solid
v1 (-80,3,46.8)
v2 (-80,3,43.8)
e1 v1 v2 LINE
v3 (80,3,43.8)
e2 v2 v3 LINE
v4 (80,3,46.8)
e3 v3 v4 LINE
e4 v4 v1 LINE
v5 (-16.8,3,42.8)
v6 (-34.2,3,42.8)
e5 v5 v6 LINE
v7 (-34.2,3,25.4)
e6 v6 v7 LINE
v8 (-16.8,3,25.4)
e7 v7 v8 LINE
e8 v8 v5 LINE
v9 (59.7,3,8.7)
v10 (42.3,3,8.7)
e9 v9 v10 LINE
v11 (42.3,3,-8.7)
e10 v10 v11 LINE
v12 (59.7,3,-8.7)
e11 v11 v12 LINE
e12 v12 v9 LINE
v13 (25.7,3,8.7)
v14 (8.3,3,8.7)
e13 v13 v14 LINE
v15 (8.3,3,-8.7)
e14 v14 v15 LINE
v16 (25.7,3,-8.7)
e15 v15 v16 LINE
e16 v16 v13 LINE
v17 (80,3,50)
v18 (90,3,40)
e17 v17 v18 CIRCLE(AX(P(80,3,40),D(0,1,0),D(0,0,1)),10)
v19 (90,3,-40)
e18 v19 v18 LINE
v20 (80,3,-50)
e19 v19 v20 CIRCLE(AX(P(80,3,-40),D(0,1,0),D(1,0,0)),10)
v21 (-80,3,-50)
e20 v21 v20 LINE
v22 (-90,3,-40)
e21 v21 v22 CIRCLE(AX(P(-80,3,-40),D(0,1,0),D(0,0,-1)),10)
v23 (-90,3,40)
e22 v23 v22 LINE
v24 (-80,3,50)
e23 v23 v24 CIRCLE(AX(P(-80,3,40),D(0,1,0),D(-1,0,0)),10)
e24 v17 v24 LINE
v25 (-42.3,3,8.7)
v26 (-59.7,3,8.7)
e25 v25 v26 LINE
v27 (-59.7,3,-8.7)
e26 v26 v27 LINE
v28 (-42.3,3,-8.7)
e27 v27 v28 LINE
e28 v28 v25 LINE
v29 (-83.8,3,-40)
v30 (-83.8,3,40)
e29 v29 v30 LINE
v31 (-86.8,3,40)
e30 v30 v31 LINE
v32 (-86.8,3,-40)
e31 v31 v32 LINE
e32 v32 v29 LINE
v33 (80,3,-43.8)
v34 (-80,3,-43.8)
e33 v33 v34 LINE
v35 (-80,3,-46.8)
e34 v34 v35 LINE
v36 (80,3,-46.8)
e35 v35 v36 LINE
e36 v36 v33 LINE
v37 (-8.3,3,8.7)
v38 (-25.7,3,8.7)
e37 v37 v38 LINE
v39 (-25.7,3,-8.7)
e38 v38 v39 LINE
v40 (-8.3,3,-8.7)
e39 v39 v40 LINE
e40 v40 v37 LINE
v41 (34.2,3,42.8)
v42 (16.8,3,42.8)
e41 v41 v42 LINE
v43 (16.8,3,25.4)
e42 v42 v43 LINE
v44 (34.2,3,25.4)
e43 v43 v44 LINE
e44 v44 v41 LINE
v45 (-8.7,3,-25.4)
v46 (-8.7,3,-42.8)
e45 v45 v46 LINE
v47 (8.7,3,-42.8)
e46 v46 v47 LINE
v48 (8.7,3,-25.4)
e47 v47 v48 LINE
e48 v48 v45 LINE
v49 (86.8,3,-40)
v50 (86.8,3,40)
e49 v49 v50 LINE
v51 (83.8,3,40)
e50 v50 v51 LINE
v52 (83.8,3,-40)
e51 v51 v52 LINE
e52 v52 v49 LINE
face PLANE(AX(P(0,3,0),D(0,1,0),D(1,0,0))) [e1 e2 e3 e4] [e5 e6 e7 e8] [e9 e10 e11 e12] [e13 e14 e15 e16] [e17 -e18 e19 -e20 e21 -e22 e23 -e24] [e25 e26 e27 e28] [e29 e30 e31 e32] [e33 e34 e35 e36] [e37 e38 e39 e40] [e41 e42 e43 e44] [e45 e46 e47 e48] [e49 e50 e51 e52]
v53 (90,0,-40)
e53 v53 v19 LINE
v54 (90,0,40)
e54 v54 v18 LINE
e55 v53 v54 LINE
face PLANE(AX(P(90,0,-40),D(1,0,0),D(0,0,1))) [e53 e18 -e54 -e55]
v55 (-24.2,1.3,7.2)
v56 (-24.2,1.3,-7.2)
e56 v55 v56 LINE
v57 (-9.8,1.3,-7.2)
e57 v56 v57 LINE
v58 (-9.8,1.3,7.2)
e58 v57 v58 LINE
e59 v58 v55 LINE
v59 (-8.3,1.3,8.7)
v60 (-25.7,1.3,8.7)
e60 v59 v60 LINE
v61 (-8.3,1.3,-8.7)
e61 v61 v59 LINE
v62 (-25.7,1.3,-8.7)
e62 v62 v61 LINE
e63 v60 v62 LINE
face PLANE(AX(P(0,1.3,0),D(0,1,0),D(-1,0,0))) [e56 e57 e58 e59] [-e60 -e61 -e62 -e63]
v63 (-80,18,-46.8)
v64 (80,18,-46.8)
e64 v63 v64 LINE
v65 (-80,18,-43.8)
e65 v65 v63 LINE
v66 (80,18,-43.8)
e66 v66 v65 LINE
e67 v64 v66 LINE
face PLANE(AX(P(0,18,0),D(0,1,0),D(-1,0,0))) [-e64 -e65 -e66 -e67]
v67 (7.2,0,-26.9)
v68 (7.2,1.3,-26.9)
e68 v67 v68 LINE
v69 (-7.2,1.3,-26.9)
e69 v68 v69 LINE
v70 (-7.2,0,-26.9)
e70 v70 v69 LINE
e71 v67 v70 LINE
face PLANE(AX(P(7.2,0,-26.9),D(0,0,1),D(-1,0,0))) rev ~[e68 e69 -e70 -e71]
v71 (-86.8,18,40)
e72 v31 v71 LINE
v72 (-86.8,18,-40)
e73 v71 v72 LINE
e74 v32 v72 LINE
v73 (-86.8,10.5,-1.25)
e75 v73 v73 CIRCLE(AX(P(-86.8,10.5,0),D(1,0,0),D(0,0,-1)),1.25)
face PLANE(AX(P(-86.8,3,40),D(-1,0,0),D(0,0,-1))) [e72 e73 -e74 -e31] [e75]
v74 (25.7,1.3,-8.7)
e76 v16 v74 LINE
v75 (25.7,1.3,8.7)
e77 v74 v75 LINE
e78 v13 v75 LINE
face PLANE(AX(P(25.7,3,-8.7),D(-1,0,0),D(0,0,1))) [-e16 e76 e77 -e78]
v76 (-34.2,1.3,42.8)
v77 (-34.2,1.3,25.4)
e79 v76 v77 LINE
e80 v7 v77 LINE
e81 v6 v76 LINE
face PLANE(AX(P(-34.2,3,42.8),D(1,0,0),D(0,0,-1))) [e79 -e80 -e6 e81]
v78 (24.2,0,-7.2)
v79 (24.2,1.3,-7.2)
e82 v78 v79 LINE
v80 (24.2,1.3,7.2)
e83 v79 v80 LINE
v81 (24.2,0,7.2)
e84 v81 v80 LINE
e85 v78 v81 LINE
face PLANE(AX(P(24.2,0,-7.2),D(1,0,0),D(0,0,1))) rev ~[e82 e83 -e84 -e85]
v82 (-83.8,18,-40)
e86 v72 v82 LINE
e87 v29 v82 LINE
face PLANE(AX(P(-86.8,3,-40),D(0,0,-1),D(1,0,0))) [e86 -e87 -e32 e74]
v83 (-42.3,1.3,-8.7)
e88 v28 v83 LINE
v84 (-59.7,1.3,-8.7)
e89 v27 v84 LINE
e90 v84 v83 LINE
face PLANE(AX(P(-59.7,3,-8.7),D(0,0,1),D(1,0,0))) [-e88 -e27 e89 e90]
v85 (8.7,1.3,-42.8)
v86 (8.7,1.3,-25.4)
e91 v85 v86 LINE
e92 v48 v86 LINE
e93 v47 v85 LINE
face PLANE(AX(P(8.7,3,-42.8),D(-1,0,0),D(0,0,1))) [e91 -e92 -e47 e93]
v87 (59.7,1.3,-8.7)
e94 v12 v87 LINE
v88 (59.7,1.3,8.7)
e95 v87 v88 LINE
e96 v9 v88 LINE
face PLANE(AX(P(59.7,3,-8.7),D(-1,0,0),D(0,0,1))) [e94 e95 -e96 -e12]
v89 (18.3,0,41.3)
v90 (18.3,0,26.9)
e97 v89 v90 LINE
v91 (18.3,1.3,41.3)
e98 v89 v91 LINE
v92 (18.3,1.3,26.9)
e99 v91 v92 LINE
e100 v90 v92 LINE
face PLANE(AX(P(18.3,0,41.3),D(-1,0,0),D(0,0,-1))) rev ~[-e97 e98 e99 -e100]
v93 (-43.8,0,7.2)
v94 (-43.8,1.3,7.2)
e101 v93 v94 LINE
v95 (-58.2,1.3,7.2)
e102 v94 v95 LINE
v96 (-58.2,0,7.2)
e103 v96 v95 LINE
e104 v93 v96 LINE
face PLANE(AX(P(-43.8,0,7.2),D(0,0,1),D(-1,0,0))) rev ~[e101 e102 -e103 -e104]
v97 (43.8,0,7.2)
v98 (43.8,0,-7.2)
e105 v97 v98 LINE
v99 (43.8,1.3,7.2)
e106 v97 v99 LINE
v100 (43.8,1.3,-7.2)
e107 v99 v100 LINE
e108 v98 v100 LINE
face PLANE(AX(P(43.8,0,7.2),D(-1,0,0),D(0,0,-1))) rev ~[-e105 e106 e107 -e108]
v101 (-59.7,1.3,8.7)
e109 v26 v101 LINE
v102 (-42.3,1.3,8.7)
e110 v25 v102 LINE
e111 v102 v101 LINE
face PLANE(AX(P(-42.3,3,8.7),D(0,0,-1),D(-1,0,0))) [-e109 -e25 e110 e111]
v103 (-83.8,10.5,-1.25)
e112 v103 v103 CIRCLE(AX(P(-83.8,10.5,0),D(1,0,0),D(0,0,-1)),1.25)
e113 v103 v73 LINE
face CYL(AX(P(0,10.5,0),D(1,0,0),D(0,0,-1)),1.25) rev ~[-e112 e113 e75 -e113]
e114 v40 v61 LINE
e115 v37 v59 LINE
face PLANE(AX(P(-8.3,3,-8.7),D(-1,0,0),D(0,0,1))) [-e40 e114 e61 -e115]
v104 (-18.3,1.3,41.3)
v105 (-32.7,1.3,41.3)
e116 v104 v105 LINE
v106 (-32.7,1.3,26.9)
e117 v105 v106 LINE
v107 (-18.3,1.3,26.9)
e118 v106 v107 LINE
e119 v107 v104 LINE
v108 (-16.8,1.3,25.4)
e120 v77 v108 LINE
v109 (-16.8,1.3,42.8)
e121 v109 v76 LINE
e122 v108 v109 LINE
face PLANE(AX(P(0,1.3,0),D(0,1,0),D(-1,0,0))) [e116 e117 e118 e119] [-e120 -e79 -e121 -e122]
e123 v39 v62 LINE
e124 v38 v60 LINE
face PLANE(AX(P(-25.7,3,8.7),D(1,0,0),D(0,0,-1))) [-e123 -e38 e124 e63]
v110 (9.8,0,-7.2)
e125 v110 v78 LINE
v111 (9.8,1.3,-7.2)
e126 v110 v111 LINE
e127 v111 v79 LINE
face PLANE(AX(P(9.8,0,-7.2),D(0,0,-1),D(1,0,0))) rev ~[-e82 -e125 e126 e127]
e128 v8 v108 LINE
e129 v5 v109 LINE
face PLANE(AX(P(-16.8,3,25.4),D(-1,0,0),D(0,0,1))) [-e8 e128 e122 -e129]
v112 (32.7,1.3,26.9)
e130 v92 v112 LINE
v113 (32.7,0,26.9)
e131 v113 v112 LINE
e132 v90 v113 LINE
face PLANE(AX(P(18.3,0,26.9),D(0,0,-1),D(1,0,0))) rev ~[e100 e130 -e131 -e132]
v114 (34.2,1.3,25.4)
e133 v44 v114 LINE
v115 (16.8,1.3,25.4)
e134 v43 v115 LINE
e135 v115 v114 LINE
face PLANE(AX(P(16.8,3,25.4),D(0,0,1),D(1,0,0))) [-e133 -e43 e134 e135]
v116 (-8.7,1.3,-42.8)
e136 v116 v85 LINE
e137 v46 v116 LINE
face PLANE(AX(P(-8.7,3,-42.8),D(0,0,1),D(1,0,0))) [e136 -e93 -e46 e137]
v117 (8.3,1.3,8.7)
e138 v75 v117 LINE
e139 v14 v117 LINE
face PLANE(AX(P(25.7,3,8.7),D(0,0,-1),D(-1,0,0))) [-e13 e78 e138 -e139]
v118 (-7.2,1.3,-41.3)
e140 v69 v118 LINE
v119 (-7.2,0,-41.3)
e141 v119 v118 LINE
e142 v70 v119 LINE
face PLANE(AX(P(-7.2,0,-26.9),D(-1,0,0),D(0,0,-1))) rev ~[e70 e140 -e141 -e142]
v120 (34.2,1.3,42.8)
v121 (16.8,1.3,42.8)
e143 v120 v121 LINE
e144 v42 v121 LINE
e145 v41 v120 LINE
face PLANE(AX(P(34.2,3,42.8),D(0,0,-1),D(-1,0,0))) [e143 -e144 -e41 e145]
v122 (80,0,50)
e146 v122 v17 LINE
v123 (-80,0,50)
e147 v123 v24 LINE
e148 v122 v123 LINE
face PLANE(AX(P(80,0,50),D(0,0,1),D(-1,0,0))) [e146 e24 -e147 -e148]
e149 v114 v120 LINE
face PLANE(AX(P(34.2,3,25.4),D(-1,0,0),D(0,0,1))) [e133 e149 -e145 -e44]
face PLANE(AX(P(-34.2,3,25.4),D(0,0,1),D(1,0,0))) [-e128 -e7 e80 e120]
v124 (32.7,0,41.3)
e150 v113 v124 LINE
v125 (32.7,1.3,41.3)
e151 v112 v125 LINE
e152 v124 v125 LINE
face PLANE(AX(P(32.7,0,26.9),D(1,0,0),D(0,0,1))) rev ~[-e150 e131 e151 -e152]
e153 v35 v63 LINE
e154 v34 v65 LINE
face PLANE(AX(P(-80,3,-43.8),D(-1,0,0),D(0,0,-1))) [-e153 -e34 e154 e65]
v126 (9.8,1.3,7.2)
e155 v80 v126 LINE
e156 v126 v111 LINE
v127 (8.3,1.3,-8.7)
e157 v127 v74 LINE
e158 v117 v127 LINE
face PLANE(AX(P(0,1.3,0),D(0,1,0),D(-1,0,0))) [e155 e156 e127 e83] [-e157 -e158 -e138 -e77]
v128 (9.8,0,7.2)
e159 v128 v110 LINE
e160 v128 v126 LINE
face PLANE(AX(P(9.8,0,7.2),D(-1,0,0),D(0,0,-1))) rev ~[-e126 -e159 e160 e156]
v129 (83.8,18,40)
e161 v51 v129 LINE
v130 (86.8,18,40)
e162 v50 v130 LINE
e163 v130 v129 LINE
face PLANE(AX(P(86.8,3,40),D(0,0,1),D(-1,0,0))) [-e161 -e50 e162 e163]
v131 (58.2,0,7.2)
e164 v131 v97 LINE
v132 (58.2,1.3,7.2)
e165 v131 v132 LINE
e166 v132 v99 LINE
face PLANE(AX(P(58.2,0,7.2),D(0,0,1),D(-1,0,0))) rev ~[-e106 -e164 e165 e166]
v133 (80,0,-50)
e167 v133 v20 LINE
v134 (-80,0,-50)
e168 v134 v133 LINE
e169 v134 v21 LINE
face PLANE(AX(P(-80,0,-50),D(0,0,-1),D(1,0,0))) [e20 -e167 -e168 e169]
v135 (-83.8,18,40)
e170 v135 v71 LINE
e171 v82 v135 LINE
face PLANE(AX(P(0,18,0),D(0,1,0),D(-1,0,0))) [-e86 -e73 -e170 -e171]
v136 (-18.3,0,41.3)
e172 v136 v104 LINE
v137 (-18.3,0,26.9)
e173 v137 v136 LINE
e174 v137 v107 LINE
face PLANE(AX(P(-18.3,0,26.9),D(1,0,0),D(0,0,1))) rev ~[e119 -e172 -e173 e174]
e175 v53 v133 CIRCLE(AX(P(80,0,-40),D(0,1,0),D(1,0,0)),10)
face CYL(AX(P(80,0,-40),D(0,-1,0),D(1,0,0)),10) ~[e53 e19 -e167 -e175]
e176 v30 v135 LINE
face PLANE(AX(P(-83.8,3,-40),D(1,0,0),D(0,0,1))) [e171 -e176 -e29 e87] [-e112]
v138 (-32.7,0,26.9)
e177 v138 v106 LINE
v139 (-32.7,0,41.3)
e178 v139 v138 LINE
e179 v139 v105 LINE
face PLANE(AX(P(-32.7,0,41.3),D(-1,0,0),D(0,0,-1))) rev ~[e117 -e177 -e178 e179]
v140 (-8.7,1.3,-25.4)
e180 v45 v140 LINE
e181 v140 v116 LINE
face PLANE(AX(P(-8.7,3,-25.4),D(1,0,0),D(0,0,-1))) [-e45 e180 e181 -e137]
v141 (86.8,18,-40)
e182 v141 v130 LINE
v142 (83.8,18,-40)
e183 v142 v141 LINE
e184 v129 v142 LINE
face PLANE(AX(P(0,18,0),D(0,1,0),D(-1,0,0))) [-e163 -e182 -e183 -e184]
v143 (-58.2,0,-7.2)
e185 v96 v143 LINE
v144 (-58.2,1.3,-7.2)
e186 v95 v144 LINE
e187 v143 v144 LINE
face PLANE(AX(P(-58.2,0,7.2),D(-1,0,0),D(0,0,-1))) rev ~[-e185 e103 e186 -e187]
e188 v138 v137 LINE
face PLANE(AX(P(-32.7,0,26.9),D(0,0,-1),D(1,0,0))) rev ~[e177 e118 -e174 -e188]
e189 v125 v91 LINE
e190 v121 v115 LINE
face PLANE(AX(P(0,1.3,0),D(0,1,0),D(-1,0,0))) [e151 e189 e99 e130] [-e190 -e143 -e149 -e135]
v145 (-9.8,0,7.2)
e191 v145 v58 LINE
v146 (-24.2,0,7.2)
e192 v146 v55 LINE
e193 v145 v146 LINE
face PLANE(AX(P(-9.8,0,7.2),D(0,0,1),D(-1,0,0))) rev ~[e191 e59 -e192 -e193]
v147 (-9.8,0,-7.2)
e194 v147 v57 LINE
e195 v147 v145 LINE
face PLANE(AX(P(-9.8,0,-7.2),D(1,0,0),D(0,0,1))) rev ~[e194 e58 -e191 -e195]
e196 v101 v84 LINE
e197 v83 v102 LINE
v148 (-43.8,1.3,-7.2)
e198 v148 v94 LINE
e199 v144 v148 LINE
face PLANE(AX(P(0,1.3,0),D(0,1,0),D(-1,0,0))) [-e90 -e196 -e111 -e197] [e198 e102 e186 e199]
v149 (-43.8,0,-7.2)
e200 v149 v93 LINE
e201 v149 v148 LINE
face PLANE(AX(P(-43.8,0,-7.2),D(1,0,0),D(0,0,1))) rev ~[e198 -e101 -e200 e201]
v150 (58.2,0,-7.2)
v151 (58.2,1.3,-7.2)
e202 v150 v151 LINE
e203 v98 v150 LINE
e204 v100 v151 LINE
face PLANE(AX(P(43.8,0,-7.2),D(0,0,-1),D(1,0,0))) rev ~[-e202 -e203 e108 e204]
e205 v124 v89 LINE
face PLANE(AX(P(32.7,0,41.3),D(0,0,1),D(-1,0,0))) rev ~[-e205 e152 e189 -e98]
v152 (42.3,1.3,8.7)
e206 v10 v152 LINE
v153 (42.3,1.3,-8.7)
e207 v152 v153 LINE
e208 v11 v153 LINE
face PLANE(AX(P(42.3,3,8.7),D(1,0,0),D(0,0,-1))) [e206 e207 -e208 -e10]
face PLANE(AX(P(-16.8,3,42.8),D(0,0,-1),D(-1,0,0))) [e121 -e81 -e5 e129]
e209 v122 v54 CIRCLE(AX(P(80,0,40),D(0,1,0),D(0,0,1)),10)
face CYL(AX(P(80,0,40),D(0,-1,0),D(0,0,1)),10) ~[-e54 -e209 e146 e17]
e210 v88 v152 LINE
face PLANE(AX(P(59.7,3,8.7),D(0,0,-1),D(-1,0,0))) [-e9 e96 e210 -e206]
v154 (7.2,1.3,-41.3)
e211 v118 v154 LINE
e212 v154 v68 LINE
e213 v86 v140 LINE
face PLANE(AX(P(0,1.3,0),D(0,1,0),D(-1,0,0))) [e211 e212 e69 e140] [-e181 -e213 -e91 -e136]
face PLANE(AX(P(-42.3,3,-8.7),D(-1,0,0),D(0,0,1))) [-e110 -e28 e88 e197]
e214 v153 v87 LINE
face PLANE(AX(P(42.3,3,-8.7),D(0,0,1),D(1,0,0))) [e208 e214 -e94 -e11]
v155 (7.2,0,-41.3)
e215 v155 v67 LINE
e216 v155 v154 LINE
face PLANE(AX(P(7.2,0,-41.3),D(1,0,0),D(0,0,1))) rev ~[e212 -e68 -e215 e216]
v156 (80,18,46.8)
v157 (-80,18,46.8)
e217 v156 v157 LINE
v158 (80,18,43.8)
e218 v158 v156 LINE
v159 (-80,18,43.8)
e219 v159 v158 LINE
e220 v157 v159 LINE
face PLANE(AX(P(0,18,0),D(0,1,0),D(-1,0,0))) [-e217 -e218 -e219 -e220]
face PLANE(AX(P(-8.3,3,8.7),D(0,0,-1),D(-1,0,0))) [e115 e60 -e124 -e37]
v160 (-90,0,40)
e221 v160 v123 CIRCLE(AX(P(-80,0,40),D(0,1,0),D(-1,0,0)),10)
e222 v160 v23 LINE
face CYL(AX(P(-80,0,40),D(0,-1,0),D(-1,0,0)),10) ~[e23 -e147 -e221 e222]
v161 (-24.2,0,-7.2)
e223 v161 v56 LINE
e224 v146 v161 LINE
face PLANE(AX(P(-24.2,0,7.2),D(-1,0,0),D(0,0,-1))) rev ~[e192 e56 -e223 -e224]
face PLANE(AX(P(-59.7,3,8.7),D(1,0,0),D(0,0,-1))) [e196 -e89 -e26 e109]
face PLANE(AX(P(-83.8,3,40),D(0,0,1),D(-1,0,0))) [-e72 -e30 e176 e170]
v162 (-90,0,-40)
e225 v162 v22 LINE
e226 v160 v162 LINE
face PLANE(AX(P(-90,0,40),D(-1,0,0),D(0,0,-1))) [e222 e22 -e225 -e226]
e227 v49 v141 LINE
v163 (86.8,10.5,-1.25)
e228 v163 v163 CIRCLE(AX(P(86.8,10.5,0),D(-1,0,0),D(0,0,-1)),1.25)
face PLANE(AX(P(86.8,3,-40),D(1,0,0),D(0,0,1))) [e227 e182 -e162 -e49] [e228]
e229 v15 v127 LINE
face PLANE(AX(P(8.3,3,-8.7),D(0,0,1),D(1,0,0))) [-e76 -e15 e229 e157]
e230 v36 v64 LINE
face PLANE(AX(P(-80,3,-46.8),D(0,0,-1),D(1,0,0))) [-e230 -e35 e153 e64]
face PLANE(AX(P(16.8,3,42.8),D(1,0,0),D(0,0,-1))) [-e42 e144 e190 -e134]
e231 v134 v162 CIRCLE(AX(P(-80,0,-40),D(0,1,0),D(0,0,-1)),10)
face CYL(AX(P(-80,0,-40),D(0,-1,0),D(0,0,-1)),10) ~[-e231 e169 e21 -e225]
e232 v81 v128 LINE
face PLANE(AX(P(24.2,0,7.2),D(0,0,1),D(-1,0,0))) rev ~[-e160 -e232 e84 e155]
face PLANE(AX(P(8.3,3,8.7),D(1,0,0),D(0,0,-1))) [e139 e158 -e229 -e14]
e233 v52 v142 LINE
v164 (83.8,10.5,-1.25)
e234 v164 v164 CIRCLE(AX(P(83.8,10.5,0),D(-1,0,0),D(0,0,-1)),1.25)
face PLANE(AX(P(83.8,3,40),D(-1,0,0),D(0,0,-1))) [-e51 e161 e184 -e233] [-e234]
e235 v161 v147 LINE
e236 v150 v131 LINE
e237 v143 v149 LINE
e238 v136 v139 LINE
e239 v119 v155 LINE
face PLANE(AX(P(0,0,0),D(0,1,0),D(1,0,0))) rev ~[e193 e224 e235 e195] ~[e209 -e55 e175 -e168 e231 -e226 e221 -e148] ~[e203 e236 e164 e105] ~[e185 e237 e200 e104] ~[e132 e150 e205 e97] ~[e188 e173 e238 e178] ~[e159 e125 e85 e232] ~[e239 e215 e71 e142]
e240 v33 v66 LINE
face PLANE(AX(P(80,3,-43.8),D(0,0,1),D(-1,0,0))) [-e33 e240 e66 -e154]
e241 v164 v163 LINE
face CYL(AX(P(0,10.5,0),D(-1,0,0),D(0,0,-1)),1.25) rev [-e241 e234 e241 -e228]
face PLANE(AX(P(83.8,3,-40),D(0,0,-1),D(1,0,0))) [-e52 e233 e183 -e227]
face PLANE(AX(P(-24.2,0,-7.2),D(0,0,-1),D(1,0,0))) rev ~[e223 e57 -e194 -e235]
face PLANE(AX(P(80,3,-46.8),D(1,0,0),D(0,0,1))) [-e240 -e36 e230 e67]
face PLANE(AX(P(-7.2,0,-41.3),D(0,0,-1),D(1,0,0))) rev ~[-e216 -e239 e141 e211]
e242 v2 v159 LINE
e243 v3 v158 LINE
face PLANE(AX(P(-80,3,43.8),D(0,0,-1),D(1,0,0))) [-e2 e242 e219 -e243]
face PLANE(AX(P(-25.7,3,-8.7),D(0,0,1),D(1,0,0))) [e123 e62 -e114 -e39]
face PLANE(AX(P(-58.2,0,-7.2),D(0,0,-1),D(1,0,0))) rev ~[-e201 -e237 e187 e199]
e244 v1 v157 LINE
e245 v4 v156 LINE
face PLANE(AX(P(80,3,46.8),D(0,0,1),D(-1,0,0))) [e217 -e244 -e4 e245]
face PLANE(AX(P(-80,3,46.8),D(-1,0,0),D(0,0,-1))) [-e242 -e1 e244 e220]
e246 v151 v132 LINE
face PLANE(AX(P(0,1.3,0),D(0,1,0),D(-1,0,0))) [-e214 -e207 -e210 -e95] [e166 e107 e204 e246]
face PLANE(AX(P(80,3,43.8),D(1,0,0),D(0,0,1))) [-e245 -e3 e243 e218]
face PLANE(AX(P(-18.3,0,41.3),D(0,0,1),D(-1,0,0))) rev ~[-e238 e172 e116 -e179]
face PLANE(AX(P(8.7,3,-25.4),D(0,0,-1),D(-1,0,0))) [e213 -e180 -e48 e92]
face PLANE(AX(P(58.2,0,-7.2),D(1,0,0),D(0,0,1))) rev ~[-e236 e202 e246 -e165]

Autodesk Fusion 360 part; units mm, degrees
sketch "Top" plane through (0, 0, 0) normal (0, 1, 0) x (1, 0, 0)
  line L0 (-80, 50) -> (80, 50)
  line L1 (90, 40) -> (90, -40)
  line L2 (80, -50) -> (-80, -50)
  line L3 (-90, -40) -> (-90, 40)
  line L4 (-90, 50) -> (90, -50) construction
  line L5 (90, 50) -> (-90, -50) construction
  arc A0 (-80, 50) -> (-90, 40) centre (-80, 40) ccw
  arc A1 (90, 40) -> (80, 50) centre (80, 40) ccw
  arc A2 (80, -50) -> (90, -40) centre (80, -40) ccw
  arc A3 (-90, -40) -> (-80, -50) centre (-80, -40) ccw
  dimension "d310" = 180
  dimension "d311" = 100
  dimension "d312" = 10
extrude "Extrude37" add sketch "Top" along normal blind 3
sketch "Tabs" plane through (0, 3, 0) normal (0, 1, 0) x (-1, 0, 0)
  arc A0 (80, -50) -> (90, -40) centre (80, -40) ccw
  line L0 (90, -40) -> (90, 40)
  arc A1 (90, 40) -> (80, 50) centre (80, 40) ccw
  line L1 (80, 50) -> (-80, 50)
  arc A2 (-80, 50) -> (-90, 40) centre (-80, 40) ccw
  line L2 (-90, 40) -> (-90, -40)
  arc A3 (-90, -40) -> (-80, -50) centre (-80, -40) ccw
  line L3 (-80, -50) -> (80, -50)
  line L4 (86.8, -40) -> (83.8, -40)
  line L5 (83.8, -40) -> (83.8, 40)
  line L6 (83.8, 40) -> (86.8, 40)
  line L7 (86.8, 40) -> (86.8, -40)
  line L8 (86.8, -40) -> (83.8, 40) construction
  line L9 (83.8, -40) -> (86.8, 40) construction
  line L10 (80, -46.8) -> (-80, -46.8)
  line L11 (-80, -46.8) -> (-80, -43.8)
  line L12 (-80, -43.8) -> (80, -43.8)
  line L13 (80, -43.8) -> (80, -46.8)
  line L14 (80, -46.8) -> (-80, -43.8) construction
  line L15 (-80, -46.8) -> (80, -43.8) construction
  line L16 (80, 43.8) -> (-80, 43.8)
  line L17 (-80, 43.8) -> (-80, 46.8)
  line L18 (-80, 46.8) -> (80, 46.8)
  line L19 (80, 46.8) -> (80, 43.8)
  line L20 (80, 43.8) -> (-80, 46.8) construction
  line L21 (-80, 43.8) -> (80, 46.8) construction
  line L22 (-83.8, -40) -> (-86.8, -40)
  line L23 (-86.8, -40) -> (-86.8, 40)
  line L24 (-86.8, 40) -> (-83.8, 40)
  line L25 (-83.8, 40) -> (-83.8, -40)
  line L26 (-83.8, -40) -> (-86.8, 40) construction
  line L27 (-86.8, -40) -> (-83.8, 40) construction
  point P0 (85.3, 0)
  point P1 (0, -45.3)
  point P2 (0, 45.3)
  point P3 (-85.3, 0)
  dimension "d315" = 3
  dimension "d316" = 10
  dimension "d317" = 10
  dimension "d318" = 3.2
  dimension "d319" = 3
  dimension "d320" = 10
  dimension "d321" = 10
  dimension "d322" = 3.2
  dimension "d324" = 3
  dimension "d325" = 10
  dimension "d326" = 10
  dimension "d327" = 3
  dimension "d329" = 10
  dimension "d330" = 10
  dimension "d333" = 3.2
  dimension "d334" = 3.2
extrude "Extrude38" add sketch "Tabs" along normal blind 15 contours L4 L5 L6 L7 | L10 L11 L12 L13 | L16 L17 L18 L19 | L22 L23 L24 L25
sketch "Switches" plane through (0, 3, 0) normal (0, 1, 0) x (-1, 0, 0)
  line L0 (86.8, 40) -> (86.8, -40)
  line L1 (86.8, -40) -> (83.8, -40)
  line L2 (83.8, -40) -> (83.8, 40)
  line L3 (83.8, 40) -> (86.8, 40)
  line L4 (80, -43.8) -> (80, -46.8)
  line L5 (80, -46.8) -> (-80, -46.8)
  line L6 (-80, -46.8) -> (-80, -43.8)
  line L7 (-80, -43.8) -> (80, -43.8)
  line L8 (80, 46.8) -> (80, 43.8)
  line L9 (80, 43.8) -> (-80, 43.8)
  line L10 (-80, 43.8) -> (-80, 46.8)
  line L11 (-80, 46.8) -> (80, 46.8)
  line L12 (-83.8, 40) -> (-83.8, -40)
  line L13 (-83.8, -40) -> (-86.8, -40)
  line L14 (-86.8, -40) -> (-86.8, 40)
  line L15 (-86.8, 40) -> (-83.8, 40)
  arc A0 (80, -50) -> (90, -40) centre (80, -40) ccw
  line L16 (90, -40) -> (90, 40)
  arc A1 (90, 40) -> (80, 50) centre (80, 40) ccw
  line L17 (80, 50) -> (-80, 50)
  arc A2 (-80, 50) -> (-90, 40) centre (-80, 40) ccw
  line L18 (-90, 40) -> (-90, -40)
  arc A3 (-90, -40) -> (-80, -50) centre (-80, -40) ccw
  line L19 (-80, -50) -> (80, -50)
  line L20 (-59.7, 8.7) -> (-42.3, 8.7)
  line L21 (-42.3, 8.7) -> (-42.3, -8.7)
  line L22 (-58.2, -7.2) -> (-58.2, 7.2)
  line L23 (-42.3, -8.7) -> (-59.7, -8.7)
  line L24 (-43.8, 7.2) -> (-43.8, -7.2)
  line L25 (-58.2, 7.2) -> (-43.8, 7.2)
  line L26 (-43.8, -7.2) -> (-58.2, 7.2) construction
  line L27 (-59.7, -8.7) -> (-59.7, 8.7)
  line L28 (-59.7, -8.7) -> (-42.3, 8.7) construction
  line L29 (-58.2, -7.2) -> (-43.8, 7.2) construction
  line L30 (-42.3, -8.7) -> (-59.7, 8.7) construction
  line L31 (-43.8, -7.2) -> (-58.2, -7.2)
  line L32 (24.2, 7.2) -> (24.2, -7.2)
  line L33 (8.3, -8.7) -> (8.3, 8.7)
  line L34 (25.7, -8.7) -> (8.3, 8.7) construction
  line L35 (9.8, 7.2) -> (24.2, 7.2)
  line L36 (24.2, -7.2) -> (9.8, 7.2) construction
  line L37 (8.3, -8.7) -> (25.7, 8.7) construction
  line L38 (9.8, -7.2) -> (24.2, 7.2) construction
  line L39 (24.2, -7.2) -> (9.8, -7.2)
  line L40 (25.7, 8.7) -> (25.7, -8.7)
  line L41 (9.8, -7.2) -> (9.8, 7.2)
  line L42 (25.7, -8.7) -> (8.3, -8.7)
  line L43 (8.3, 8.7) -> (25.7, 8.7)
  line L44 (-18.3, 26.9) -> (-32.7, 41.3) construction
  line L45 (-32.7, 41.3) -> (-18.3, 41.3)
  line L46 (-16.8, 25.4) -> (-34.2, 25.4)
  line L47 (-34.2, 42.8) -> (-16.8, 42.8)
  line L48 (-32.7, 26.9) -> (-32.7, 41.3)
  line L49 (-16.8, 42.8) -> (-16.8, 25.4)
  line L50 (-34.2, 25.4) -> (-34.2, 42.8)
  line L51 (-16.8, 25.4) -> (-34.2, 42.8) construction
  line L52 (-18.3, 26.9) -> (-32.7, 26.9)
  line L53 (-32.7, 26.9) -> (-18.3, 41.3) construction
  line L54 (-34.2, 25.4) -> (-16.8, 42.8) construction
  line L55 (-18.3, 41.3) -> (-18.3, 26.9)
  line L56 (16.8, 25.4) -> (34.2, 42.8) construction
  line L57 (18.3, 41.3) -> (32.7, 41.3)
  line L58 (34.2, 42.8) -> (34.2, 25.4)
  line L59 (18.3, 26.9) -> (32.7, 41.3) construction
  line L60 (32.7, 26.9) -> (18.3, 26.9)
  line L61 (16.8, 25.4) -> (16.8, 42.8)
  line L62 (32.7, 41.3) -> (32.7, 26.9)
  line L63 (16.8, 42.8) -> (34.2, 42.8)
  line L64 (34.2, 25.4) -> (16.8, 42.8) construction
  line L65 (34.2, 25.4) -> (16.8, 25.4)
  line L66 (18.3, 26.9) -> (18.3, 41.3)
  line L67 (32.7, 26.9) -> (18.3, 41.3) construction
  line L68 (-8.7, -42.8) -> (-8.7, -25.4)
  line L69 (-7.2, -41.3) -> (-7.2, -26.9)
  line L70 (7.2, -26.9) -> (7.2, -41.3)
  line L71 (-7.2, -41.3) -> (7.2, -26.9) construction
  line L72 (8.7, -25.4) -> (8.7, -42.8)
  line L73 (8.7, -42.8) -> (-8.7, -42.8)
  line L74 (7.2, -41.3) -> (-7.2, -26.9) construction
  line L75 (8.7, -42.8) -> (-8.7, -25.4) construction
  line L76 (-8.7, -42.8) -> (8.7, -25.4) construction
  line L77 (-8.7, -25.4) -> (8.7, -25.4)
  line L78 (7.2, -41.3) -> (-7.2, -41.3)
  line L79 (-7.2, -26.9) -> (7.2, -26.9)
  line L80 (42.3, -8.7) -> (42.3, 8.7)
  line L81 (43.8, 7.2) -> (58.2, 7.2)
  line L82 (42.3, 8.7) -> (59.7, 8.7)
  line L83 (59.7, -8.7) -> (42.3, -8.7)
  line L84 (58.2, -7.2) -> (43.8, -7.2)
  line L85 (58.2, 7.2) -> (58.2, -7.2)
  line L86 (42.3, -8.7) -> (59.7, 8.7) construction
  line L87 (59.7, -8.7) -> (42.3, 8.7) construction
  line L88 (43.8, -7.2) -> (43.8, 7.2)
  line L89 (43.8, -7.2) -> (58.2, 7.2) construction
  line L90 (58.2, -7.2) -> (43.8, 7.2) construction
  line L91 (59.7, 8.7) -> (59.7, -8.7)
  line L92 (-25.7, 8.7) -> (-8.3, 8.7)
  line L93 (-25.7, -8.7) -> (-8.3, 8.7) construction
  line L94 (-25.7, -8.7) -> (-25.7, 8.7)
  line L95 (-9.8, 7.2) -> (-9.8, -7.2)
  line L96 (-9.8, -7.2) -> (-24.2, -7.2)
  line L97 (-8.3, -8.7) -> (-25.7, 8.7) construction
  line L98 (-24.2, -7.2) -> (-9.8, 7.2) construction
  line L99 (-8.3, -8.7) -> (-25.7, -8.7)
  line L100 (-24.2, -7.2) -> (-24.2, 7.2)
  line L101 (-9.8, -7.2) -> (-24.2, 7.2) construction
  line L102 (-8.3, 8.7) -> (-8.3, -8.7)
  line L103 (-24.2, 7.2) -> (-9.8, 7.2)
  point P0 (-51, 0)
  point P1 (17, 0)
  point P2 (-25.5, 34.1)
  point P3 (25.5, 34.1)
  point P4 (0, -34.1)
  point P5 (51, 0)
  point P6 (-17, 0)
  dimension "d345" = 14.4
  dimension "d346" = 14.4
  dimension "d347" = 1.5
  dimension "d348" = 1.5
  dimension "d349" = 1.5
  dimension "d350" = 1.5
  dimension "d363" = 14.4
  dimension "d364" = 14.4
  dimension "d365" = 1.5
  dimension "d366" = 1.5
  dimension "d367" = 1.5
  dimension "d368" = 1.5
  dimension "d369" = 14.4
  dimension "d370" = 14.4
  dimension "d371" = 1.5
  dimension "d372" = 1.5
  dimension "d373" = 1.5
  dimension "d374" = 1.5
  dimension "d375" = 14.4
  dimension "d376" = 14.4
  dimension "d377" = 1.5
  dimension "d378" = 1.5
  dimension "d379" = 1.5
  dimension "d380" = 1.5
  dimension "d381" = 14.4
  dimension "d382" = 14.4
  dimension "d383" = 1.5
  dimension "d384" = 1.5
  dimension "d385" = 1.5
  dimension "d386" = 1.5
  dimension "d387" = 14.4
  dimension "d388" = 14.4
  dimension "d389" = 1.5
  dimension "d390" = 1.5
  dimension "d391" = 1.5
  dimension "d392" = 1.5
  dimension "d393" = 14.4
  dimension "d394" = 14.4
  dimension "d395" = 1.5
  dimension "d396" = 1.5
  dimension "d397" = 1.5
  dimension "d398" = 1.5
  dimension "d399" = 1
  dimension "d400" = 1
  dimension "d401" = 1
  dimension "d404" = 51
  dimension "d405" = 25.5
  dimension "d406" = 34
  dimension "d407" = 34
  dimension "d408" = 34
  dimension "d409" = 17
extrude "Extrude40" cut sketch "Switches" against normal blind 1.7 contours L20 L21 L23 L27 | L33 L40 L42 L43 | L46 L47 L49 L50 | L58 L61 L63 L65 | L68 L72 L73 L77 | L80 L82 L83 L91 | L92 L94 L99 L102
extrude "Extrude41" cut sketch "Switches" along normal blind 3 from surface at -3 contours L22 L24 L25 L31 | L32 L35 L39 L41 | L45 L48 L52 L55 | L57 L60 L62 L66 | L69 L70 L78 L79 | L81 L84 L85 L88 | L95 L96 L100 L103
sketch "Tab Holes" plane through (0, 0, 0) normal (1, 0, 0) x (0, 0, -1)
  circle A0 centre (0, 10.5) radius 1.25
  line L0 (-40, 3) -> (40, 3)
  dimension "d418" = 2.5
  dimension "d419" = 7.5
extrude "Extrude42" cut sketch "Tab Holes" along normal through all and the other way through all
equation "d405 = ( 51 / 2 ) * 1 mm"
equation "d409 = ( 34 / 2 ) * 1 mm"
equation "d413 = -( 3 mm - 1.3 mm )"
equation "d419 = ( 15 / 2 ) * 1 mm"
equation "d299 = 3 mm - 1.4 mm"
equation "d258 = 3 mm - 1.4 mm"
equation "d22 = ( 15 / 2 ) * 1 mm"
equation "d25 = ( 12 / 2 ) * 1 mm"
